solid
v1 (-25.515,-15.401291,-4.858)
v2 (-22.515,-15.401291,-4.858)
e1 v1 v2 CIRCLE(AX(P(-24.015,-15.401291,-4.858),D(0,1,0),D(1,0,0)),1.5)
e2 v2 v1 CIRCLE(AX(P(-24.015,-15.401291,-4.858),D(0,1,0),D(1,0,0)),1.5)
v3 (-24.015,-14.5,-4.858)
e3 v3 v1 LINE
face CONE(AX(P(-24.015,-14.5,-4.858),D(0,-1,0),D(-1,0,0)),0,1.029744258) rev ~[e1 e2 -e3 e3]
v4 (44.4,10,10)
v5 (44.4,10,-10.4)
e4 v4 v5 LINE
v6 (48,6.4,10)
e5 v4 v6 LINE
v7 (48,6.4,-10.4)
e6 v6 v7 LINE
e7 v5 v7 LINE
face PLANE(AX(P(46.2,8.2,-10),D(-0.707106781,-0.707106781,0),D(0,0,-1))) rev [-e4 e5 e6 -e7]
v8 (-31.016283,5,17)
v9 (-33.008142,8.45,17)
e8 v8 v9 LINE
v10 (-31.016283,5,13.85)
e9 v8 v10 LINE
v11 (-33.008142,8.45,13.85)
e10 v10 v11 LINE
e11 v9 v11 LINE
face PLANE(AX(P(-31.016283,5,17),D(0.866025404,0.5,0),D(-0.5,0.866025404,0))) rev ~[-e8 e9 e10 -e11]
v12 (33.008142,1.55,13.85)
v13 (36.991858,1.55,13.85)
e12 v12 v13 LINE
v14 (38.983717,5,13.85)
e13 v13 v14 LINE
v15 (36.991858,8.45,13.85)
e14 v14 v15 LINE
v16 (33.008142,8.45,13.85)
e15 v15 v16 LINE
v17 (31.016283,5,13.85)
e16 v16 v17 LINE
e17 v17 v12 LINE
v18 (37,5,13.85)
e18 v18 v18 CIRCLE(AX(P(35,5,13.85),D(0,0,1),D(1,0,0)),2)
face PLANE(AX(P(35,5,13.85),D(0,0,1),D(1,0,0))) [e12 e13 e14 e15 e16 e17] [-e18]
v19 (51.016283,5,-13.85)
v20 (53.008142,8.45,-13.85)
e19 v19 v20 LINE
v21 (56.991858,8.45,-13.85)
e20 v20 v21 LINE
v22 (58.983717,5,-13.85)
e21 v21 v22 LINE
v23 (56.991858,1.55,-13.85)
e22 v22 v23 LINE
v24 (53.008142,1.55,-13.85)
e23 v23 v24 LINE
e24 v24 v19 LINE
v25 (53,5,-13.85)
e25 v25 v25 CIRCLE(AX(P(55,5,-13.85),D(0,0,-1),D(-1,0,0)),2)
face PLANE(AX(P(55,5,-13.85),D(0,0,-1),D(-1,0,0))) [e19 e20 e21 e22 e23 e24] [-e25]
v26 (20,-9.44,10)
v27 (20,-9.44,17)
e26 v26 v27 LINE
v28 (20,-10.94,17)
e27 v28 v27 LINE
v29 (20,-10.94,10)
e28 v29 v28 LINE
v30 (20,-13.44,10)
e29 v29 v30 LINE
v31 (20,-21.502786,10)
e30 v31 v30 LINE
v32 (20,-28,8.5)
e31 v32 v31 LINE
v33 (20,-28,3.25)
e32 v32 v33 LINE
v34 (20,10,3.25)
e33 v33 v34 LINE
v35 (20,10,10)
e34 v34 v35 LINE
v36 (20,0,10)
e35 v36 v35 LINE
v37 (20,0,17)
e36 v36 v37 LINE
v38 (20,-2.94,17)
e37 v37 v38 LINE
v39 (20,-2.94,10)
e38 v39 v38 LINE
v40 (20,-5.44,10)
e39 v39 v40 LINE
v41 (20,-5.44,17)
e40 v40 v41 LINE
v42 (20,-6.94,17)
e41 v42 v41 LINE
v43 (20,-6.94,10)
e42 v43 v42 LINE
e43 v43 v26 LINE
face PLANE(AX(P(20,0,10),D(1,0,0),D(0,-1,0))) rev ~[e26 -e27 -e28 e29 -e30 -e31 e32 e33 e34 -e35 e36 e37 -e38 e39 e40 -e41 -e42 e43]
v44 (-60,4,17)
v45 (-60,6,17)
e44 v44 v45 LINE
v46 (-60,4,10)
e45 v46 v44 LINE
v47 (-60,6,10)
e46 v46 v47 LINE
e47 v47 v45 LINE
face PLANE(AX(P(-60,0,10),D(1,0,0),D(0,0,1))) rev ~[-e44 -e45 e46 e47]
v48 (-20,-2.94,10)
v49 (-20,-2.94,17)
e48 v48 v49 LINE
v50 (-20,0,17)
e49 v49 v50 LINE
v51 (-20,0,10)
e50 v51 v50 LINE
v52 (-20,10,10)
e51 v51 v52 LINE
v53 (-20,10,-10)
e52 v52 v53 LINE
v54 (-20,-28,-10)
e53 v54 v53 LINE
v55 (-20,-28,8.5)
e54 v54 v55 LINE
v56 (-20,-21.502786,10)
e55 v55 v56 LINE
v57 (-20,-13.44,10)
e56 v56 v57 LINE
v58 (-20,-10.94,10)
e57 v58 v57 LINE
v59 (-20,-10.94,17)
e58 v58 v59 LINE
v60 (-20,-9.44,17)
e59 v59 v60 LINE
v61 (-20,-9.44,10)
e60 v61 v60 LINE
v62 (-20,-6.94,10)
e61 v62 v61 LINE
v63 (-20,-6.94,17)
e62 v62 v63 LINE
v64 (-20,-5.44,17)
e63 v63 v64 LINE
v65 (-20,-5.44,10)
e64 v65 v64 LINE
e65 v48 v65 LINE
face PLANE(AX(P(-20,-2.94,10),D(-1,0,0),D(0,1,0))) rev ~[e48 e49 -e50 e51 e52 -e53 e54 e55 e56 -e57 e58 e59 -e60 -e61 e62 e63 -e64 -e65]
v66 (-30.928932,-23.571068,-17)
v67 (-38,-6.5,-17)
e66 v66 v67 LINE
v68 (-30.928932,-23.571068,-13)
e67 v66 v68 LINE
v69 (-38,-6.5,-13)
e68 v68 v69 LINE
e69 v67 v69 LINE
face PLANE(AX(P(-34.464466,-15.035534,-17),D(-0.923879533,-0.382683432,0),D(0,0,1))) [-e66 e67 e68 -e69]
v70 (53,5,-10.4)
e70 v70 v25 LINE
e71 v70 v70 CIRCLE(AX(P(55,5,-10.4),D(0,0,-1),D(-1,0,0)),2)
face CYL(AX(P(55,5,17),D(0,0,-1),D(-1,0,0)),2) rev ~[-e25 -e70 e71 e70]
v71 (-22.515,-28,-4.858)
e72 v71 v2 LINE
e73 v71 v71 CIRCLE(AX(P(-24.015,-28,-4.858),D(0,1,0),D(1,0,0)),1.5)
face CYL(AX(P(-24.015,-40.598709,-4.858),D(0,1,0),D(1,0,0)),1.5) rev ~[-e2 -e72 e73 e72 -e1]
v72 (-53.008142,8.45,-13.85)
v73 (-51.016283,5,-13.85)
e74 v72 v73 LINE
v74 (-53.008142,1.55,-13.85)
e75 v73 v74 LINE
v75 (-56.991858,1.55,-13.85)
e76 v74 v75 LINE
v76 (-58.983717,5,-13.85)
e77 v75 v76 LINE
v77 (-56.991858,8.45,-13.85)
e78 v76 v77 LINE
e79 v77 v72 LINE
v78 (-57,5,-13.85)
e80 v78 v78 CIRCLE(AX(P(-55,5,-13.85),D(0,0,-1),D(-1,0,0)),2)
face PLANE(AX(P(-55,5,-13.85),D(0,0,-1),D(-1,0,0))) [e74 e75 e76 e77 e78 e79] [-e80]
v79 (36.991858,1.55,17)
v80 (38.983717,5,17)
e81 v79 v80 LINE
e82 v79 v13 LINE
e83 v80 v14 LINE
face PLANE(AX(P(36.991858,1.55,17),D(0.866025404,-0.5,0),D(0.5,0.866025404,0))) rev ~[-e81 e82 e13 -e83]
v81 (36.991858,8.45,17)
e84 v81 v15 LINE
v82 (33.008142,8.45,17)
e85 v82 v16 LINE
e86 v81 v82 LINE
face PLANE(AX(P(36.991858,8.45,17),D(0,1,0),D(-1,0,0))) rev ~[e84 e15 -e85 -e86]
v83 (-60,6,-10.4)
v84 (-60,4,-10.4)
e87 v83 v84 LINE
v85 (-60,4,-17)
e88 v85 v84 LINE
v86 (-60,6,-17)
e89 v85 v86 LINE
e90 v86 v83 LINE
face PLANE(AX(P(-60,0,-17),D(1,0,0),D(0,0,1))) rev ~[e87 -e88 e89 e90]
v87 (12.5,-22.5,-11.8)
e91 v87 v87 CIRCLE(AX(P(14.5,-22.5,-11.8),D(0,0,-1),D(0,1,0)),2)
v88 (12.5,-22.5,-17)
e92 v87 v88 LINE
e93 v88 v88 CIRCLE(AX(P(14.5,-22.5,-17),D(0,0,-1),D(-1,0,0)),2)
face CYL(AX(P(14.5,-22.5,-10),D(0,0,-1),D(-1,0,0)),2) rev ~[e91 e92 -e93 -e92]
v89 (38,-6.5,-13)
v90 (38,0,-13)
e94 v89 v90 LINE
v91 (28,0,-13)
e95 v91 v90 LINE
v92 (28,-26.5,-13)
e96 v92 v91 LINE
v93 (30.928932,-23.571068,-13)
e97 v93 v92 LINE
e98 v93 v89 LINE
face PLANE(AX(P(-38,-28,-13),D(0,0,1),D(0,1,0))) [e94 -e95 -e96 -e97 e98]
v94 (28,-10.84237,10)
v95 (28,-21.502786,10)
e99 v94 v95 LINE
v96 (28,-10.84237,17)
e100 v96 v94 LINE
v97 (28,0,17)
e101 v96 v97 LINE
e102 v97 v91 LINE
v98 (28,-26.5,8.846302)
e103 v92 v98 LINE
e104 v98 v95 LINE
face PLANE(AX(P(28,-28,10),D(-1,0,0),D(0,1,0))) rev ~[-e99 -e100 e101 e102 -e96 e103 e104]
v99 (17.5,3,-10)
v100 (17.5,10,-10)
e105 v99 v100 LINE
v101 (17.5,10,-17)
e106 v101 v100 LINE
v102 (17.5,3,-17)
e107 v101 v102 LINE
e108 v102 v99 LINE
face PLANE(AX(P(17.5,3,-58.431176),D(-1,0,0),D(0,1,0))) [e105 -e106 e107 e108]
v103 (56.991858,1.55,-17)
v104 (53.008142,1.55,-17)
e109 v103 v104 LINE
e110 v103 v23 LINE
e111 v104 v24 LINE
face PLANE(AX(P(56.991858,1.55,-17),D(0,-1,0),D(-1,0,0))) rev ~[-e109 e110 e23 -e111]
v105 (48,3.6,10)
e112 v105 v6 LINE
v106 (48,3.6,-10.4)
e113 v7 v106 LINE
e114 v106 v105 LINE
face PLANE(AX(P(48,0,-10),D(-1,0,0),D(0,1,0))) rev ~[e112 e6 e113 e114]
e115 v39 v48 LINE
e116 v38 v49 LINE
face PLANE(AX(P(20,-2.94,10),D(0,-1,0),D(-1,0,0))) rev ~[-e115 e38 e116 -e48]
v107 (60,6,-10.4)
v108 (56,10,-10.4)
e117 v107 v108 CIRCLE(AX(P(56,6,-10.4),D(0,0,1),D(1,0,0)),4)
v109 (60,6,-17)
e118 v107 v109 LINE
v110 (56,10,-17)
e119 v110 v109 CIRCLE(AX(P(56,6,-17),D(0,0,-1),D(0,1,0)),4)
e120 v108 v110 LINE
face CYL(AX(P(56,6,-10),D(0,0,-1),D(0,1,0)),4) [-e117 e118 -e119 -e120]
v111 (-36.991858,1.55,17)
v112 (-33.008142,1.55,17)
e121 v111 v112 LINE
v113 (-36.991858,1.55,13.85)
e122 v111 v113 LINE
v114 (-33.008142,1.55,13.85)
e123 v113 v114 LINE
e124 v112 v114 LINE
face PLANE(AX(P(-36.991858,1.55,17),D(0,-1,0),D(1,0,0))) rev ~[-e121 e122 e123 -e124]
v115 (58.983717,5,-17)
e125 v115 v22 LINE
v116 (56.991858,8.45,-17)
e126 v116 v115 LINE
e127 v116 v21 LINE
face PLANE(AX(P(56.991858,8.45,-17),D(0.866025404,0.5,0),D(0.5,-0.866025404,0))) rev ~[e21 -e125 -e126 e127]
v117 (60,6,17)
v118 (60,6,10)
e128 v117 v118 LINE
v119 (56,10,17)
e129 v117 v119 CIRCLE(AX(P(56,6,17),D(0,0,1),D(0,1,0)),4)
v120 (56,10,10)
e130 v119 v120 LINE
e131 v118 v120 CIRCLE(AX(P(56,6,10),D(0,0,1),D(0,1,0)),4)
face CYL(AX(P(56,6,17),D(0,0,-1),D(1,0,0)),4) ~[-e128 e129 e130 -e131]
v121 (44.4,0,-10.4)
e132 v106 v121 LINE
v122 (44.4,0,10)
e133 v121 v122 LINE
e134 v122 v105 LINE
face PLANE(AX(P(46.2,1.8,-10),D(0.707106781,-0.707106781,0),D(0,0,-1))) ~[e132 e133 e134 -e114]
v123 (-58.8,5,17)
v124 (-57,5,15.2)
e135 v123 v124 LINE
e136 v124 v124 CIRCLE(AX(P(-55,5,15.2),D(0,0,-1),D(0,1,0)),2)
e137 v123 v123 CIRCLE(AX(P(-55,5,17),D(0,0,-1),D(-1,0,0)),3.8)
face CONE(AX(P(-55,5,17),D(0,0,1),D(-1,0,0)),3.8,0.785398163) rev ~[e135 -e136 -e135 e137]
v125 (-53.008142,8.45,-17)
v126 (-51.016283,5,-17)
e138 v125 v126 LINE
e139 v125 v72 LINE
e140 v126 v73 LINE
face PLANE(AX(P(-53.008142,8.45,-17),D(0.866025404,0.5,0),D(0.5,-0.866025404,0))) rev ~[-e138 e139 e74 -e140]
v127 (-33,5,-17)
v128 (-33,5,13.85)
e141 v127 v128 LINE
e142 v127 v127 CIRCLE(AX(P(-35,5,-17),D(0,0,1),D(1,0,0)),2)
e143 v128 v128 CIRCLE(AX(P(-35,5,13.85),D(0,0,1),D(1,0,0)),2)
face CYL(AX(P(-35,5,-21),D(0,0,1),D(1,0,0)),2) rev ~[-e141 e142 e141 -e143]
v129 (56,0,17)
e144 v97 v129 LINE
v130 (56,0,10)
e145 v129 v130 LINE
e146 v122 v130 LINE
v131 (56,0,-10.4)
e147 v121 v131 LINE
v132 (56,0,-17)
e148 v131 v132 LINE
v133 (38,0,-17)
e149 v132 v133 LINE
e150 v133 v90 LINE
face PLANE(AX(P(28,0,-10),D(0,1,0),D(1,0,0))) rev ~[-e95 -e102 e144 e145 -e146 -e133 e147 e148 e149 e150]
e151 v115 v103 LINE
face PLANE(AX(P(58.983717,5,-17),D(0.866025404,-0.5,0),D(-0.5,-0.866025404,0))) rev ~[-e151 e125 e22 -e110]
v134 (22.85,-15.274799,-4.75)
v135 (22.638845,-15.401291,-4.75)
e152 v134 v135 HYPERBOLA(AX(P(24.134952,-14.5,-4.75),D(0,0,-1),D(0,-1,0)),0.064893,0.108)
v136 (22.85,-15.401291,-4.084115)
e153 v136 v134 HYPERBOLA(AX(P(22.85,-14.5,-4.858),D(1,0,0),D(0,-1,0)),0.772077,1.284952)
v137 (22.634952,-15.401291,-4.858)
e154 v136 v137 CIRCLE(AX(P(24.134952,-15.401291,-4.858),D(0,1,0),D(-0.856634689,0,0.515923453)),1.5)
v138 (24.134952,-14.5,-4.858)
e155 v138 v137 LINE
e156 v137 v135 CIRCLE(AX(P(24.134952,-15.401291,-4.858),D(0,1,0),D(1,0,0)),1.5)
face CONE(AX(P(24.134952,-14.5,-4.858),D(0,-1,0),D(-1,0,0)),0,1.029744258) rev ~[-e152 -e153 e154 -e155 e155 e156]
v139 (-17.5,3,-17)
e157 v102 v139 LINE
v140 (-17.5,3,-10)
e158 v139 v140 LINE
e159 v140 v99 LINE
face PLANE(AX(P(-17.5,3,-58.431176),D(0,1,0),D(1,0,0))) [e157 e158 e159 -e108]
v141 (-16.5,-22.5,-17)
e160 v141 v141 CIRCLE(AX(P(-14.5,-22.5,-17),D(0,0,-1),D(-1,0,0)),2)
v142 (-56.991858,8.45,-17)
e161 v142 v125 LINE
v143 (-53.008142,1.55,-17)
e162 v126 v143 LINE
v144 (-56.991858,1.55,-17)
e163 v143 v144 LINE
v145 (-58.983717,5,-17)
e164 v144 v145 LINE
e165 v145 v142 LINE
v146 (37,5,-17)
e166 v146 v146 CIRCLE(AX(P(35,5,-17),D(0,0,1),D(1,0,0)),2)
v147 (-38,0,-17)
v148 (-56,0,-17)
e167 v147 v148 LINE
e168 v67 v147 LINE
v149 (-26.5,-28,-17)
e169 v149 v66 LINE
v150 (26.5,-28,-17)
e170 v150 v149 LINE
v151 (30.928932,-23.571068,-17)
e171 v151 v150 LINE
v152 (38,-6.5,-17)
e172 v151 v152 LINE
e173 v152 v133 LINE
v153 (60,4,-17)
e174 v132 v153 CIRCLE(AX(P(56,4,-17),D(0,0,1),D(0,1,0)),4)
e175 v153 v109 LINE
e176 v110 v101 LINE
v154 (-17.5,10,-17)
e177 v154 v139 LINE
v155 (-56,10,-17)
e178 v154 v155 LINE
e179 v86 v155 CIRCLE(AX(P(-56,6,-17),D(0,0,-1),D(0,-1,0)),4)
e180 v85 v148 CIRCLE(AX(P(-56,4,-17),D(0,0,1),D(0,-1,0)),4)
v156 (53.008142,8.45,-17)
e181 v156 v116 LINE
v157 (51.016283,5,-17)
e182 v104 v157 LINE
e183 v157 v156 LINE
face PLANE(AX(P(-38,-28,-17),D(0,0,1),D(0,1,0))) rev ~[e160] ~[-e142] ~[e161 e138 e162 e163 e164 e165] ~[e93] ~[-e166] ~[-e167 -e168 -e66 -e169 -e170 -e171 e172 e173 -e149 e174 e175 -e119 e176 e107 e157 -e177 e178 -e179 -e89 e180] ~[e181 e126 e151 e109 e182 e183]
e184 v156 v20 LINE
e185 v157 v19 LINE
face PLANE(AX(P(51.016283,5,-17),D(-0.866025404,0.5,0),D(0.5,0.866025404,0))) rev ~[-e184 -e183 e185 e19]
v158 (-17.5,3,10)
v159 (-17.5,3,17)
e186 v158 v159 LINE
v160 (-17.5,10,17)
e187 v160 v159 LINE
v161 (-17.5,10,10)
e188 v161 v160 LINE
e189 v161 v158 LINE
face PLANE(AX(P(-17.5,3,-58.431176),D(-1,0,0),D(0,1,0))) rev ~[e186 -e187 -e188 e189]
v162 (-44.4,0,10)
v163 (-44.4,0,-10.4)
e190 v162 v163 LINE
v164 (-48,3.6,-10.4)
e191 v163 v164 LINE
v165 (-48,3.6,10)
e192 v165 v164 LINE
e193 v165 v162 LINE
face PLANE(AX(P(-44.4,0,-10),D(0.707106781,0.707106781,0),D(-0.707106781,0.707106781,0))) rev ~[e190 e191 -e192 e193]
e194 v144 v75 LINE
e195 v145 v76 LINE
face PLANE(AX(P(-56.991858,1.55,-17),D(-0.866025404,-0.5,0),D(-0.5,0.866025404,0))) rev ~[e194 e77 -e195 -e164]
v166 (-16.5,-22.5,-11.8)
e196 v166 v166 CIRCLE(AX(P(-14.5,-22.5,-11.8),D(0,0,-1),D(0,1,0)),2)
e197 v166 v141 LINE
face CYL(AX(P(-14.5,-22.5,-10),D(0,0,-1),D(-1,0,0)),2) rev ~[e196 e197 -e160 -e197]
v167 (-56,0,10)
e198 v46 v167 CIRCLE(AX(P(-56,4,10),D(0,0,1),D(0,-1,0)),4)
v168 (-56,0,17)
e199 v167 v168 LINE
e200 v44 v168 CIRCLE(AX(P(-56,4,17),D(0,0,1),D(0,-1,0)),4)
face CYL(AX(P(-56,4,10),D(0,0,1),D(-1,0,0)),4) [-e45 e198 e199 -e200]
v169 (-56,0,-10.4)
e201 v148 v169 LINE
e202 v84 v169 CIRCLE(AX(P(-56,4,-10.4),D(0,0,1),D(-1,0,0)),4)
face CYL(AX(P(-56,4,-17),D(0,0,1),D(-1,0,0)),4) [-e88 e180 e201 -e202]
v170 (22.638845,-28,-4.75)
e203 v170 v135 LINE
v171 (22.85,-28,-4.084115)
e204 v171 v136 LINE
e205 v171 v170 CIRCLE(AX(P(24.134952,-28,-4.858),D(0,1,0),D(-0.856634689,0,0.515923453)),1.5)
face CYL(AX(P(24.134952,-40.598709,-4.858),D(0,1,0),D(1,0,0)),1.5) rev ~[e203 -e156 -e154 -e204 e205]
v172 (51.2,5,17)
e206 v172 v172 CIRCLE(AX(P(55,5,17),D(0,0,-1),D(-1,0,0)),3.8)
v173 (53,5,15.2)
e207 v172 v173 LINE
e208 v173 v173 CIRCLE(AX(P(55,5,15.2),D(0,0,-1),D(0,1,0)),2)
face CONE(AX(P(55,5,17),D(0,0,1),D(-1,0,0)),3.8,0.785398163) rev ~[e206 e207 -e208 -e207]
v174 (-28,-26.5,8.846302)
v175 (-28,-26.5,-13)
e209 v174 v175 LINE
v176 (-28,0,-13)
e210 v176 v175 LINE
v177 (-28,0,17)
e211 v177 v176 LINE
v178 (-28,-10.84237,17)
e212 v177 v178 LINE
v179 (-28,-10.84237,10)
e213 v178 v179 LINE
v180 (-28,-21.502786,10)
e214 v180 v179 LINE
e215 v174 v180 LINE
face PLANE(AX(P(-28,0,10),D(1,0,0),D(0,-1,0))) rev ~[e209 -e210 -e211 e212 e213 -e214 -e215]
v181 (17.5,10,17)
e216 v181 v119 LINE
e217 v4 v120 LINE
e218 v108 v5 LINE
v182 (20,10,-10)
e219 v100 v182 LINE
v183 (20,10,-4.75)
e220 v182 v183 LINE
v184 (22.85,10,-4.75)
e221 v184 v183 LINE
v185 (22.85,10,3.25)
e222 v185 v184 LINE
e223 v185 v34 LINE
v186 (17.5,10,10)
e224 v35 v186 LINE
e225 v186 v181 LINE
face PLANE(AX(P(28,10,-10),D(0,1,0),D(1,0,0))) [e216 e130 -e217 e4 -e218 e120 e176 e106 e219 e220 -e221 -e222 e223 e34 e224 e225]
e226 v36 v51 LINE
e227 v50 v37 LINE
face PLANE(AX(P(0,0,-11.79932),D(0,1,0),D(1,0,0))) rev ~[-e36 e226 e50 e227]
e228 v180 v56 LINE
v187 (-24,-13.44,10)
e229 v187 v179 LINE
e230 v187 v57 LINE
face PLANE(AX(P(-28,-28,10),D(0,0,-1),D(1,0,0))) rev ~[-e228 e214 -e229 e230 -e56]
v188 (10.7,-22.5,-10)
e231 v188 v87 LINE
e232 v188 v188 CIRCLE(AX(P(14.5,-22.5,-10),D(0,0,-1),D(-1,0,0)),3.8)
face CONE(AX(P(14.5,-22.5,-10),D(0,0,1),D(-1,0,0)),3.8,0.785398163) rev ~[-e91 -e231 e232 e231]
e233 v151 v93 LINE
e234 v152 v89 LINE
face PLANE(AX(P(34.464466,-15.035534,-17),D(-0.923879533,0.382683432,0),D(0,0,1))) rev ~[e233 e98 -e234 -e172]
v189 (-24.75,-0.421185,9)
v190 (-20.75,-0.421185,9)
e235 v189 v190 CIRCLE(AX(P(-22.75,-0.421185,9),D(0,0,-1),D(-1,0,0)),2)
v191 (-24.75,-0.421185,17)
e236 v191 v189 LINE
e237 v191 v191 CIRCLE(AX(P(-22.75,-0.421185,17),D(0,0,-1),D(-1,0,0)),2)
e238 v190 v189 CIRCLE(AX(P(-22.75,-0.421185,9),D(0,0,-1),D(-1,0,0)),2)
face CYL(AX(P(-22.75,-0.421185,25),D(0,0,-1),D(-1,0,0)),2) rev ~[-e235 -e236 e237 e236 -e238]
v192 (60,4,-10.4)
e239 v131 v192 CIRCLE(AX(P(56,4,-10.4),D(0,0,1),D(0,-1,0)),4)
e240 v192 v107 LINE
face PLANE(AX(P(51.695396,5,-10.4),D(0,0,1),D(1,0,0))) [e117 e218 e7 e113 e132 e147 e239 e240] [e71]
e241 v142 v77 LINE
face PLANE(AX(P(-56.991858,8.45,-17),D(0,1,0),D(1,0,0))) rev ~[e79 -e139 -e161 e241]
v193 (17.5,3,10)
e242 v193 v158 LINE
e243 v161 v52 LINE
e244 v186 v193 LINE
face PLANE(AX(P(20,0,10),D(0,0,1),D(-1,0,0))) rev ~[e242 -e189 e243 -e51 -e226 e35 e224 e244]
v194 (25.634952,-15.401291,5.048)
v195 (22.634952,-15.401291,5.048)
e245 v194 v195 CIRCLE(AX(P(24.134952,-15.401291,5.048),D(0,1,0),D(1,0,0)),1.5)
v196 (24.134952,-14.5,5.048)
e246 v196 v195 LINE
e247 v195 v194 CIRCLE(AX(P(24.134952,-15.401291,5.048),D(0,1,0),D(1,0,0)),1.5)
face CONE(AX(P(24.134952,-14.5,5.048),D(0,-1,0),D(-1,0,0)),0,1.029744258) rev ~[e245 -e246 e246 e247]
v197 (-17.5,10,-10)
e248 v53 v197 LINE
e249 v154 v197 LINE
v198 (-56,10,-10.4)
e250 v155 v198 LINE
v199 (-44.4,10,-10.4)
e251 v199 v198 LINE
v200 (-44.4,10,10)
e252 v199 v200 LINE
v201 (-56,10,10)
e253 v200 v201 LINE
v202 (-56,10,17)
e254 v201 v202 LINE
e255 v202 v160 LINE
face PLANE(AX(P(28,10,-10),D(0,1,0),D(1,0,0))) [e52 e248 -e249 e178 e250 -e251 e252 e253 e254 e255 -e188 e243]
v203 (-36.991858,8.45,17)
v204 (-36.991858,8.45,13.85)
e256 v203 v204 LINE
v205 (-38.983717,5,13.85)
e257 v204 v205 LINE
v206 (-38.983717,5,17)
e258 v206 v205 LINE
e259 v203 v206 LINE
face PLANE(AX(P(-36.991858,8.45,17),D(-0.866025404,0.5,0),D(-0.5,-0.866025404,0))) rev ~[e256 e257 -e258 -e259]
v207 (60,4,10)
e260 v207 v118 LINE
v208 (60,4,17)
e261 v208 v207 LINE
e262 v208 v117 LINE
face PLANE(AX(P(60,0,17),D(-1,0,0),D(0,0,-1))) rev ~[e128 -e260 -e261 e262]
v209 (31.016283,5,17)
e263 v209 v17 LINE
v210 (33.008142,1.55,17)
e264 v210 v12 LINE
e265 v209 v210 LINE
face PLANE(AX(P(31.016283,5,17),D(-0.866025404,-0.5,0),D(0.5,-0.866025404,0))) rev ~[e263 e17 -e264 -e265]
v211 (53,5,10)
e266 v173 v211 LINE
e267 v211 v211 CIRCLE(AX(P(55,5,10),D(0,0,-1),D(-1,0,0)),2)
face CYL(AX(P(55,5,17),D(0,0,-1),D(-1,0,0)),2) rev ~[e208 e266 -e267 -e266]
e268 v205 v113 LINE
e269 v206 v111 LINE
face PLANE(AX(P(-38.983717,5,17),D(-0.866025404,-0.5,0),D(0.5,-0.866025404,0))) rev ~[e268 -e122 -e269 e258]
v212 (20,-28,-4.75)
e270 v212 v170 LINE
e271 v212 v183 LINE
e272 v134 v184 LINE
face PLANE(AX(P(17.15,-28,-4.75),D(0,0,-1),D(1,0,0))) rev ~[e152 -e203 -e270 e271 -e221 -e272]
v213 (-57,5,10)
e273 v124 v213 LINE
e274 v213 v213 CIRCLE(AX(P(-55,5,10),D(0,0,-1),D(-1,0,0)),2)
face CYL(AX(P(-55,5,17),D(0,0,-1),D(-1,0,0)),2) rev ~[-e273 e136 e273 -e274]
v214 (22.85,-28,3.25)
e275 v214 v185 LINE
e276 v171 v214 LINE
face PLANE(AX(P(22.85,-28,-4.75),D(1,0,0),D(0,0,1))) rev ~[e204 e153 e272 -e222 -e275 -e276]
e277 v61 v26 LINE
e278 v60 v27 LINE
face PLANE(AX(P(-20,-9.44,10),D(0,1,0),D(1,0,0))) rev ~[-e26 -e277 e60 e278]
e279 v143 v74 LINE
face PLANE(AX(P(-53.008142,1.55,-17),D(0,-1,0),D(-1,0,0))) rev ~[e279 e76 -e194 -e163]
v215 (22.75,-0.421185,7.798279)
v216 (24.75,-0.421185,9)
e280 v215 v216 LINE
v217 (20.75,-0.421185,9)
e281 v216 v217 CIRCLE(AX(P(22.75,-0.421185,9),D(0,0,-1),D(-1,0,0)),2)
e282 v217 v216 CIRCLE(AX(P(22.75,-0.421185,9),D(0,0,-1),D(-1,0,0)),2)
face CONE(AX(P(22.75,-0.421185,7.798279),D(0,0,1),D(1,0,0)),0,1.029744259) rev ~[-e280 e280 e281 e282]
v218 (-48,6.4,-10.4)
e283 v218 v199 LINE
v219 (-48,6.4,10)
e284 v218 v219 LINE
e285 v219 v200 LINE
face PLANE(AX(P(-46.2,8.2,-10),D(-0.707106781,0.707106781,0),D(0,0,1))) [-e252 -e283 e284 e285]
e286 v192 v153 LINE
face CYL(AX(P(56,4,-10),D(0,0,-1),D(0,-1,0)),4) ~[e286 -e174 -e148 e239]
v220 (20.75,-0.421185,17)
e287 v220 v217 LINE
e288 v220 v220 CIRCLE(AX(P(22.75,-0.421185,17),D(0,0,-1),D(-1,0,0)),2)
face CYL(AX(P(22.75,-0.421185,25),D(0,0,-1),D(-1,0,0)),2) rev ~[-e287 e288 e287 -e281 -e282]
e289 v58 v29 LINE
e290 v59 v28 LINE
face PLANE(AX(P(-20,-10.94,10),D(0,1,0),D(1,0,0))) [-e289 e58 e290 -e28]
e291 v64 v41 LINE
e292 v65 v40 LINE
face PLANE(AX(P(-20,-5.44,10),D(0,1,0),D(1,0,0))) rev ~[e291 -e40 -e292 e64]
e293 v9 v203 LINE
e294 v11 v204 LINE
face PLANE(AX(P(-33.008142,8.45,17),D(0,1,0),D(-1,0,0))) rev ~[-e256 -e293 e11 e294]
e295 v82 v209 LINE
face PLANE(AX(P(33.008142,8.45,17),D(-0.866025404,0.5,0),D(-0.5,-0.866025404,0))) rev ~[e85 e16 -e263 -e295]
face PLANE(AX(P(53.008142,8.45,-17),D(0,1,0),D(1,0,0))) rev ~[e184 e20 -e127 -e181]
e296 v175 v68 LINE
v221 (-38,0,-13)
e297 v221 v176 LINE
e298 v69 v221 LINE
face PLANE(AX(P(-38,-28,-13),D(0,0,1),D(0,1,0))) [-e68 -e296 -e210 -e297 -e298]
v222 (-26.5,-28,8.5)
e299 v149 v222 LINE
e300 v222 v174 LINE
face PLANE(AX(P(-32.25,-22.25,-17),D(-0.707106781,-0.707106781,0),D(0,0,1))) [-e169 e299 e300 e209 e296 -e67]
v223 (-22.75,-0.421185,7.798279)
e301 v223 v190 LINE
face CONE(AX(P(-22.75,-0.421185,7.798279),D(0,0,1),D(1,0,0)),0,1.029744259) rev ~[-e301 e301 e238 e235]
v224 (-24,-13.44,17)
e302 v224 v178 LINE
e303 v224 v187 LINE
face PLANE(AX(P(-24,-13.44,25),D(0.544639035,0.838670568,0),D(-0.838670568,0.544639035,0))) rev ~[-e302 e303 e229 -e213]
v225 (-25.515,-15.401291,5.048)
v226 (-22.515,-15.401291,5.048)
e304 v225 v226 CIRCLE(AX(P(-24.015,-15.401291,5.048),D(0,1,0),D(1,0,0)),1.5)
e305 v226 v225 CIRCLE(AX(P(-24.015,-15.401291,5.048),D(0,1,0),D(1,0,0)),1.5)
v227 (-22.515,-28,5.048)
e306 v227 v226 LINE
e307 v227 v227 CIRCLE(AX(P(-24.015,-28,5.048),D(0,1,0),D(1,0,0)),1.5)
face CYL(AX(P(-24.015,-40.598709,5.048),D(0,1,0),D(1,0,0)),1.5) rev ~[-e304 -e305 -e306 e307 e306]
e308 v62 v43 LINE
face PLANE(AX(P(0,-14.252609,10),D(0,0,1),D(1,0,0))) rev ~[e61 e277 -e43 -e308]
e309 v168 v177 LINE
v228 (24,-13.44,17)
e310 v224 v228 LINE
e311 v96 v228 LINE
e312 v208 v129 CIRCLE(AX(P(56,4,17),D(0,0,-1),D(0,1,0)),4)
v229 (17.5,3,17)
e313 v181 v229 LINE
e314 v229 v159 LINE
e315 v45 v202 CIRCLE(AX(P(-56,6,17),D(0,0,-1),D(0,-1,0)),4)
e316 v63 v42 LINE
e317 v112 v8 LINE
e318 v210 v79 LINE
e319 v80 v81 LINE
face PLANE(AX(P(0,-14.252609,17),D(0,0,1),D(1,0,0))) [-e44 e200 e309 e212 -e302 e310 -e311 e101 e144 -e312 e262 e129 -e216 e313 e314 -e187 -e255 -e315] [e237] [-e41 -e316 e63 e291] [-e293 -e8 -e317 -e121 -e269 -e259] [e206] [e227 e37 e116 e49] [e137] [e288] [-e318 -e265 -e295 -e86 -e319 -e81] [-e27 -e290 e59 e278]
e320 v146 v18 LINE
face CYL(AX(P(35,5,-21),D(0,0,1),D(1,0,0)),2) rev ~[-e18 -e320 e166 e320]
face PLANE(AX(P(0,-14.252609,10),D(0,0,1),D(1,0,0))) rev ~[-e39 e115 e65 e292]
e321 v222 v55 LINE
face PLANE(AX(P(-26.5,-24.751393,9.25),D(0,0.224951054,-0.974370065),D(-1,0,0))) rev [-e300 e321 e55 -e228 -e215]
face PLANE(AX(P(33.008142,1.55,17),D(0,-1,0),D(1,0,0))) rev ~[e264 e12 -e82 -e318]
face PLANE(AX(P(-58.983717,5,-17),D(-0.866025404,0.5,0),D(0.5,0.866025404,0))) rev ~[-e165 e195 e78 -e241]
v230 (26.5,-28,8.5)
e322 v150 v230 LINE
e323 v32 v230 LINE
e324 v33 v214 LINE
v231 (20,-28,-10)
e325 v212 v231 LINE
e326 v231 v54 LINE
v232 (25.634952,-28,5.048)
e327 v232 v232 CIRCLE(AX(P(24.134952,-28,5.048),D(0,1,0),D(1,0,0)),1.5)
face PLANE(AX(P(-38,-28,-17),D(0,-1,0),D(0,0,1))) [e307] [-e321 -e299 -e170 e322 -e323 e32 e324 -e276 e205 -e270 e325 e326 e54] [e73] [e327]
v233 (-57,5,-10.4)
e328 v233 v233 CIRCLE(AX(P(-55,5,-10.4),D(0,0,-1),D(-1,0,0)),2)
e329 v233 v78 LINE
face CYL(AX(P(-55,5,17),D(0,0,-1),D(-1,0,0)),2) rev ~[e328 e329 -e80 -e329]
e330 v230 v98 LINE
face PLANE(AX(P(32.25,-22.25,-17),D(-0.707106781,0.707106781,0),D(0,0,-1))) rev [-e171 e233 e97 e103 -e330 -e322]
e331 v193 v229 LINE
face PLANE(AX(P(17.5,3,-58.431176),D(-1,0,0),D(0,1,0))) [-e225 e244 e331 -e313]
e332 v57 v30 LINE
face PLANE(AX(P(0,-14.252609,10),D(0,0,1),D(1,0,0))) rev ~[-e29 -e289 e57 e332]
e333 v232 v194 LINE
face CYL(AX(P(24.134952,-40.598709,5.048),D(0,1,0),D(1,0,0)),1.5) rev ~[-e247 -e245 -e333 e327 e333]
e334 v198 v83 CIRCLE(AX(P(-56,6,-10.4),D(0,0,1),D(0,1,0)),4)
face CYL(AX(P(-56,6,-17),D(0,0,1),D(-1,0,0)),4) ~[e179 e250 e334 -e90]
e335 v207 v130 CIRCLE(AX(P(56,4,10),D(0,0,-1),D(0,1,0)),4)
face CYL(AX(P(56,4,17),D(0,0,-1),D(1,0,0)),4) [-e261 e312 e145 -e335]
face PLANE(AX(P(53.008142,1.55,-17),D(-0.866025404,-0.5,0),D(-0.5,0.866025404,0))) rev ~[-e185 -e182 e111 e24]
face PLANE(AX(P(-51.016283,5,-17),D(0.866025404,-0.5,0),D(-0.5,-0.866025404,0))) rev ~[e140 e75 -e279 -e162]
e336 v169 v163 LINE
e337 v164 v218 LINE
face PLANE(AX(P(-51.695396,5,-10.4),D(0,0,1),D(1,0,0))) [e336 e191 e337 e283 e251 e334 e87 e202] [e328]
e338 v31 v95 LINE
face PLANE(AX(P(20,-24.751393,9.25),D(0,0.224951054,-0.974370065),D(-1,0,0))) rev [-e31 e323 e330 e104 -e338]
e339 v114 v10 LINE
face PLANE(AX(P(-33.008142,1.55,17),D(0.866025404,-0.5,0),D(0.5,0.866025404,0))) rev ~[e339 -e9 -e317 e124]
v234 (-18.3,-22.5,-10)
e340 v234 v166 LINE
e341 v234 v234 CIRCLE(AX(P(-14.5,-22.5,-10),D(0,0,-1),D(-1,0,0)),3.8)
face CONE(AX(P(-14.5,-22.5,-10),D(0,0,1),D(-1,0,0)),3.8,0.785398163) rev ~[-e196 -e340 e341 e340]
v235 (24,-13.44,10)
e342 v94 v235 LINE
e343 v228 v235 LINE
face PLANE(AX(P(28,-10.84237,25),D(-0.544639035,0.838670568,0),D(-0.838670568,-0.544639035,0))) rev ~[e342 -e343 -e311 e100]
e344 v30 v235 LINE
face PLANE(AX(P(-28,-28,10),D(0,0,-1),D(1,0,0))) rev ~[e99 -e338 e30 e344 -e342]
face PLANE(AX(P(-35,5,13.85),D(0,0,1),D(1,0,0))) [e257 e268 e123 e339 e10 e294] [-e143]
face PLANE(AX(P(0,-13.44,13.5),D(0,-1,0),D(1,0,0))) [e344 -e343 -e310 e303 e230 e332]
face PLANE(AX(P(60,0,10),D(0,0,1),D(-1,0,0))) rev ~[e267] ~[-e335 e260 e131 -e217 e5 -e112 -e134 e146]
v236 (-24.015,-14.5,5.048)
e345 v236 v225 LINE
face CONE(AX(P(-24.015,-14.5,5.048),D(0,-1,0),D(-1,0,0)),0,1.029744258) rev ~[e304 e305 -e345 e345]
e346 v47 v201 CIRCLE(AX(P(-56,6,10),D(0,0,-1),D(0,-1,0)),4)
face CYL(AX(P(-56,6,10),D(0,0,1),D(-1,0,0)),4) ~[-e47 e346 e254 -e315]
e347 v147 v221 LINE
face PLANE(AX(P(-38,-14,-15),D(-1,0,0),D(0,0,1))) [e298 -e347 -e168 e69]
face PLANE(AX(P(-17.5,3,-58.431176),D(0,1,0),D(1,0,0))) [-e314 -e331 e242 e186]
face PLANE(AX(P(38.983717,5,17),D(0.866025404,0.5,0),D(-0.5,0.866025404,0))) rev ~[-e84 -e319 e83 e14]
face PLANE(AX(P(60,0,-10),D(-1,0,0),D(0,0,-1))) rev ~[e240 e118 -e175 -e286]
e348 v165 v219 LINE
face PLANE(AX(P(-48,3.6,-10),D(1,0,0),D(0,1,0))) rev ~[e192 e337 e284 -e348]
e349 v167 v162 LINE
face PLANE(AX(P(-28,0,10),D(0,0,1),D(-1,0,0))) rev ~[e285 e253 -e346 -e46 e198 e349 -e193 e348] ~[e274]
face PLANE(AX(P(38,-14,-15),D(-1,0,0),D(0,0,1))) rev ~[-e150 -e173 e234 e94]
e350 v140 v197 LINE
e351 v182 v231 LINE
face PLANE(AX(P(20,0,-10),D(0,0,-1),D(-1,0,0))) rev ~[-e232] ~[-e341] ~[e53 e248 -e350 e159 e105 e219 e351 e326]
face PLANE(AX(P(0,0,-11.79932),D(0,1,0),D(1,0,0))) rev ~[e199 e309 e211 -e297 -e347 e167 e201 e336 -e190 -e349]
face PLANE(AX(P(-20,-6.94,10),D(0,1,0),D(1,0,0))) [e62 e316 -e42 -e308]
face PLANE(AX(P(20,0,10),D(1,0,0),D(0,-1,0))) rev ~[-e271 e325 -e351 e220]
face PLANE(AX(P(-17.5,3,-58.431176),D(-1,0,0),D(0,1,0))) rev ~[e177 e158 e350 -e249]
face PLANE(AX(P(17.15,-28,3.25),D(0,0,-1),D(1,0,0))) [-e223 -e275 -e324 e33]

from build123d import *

# Parameters (mm, degrees)
BOSS_EXTRUDE1_DEPTH                             = 10
CSK_FOR_M4_FLAT_HEAD_MACHINE_SCREW1_D           = 4
CSK_FOR_M4_FLAT_HEAD_MACHINE_SCREW1_DEPTH       = 53.798278762
CSK_FOR_M4_FLAT_HEAD_MACHINE_SCREW1_CSINK_D     = 7.6
CSK_FOR_M4_FLAT_HEAD_MACHINE_SCREW1_CSINK_ANGLE = 90
CSK_FOR_M4_FLAT_HEAD_MACHINE_SCREW1_TIP         = 1.201721238
FILLET1_R                                       = 4
BOSS_EXTRUDE2_DEPTH                             = 28
SKETCH6_W                                       = 40
SKETCH6_H                                       = 1.5
SKETCH6_H_2                                     = 2
BOSS_EXTRUDE3_DEPTH                             = 7
SKETCH7_W                                       = 20
SKETCH7_H                                       = 10
BOSS_EXTRUDE4_DEPTH                             = 20
CHAMFER1_SIZE                                   = 3.6
BOSS_EXTRUDE5_START                             = 10
SKETCH9_W                                       = 4
SKETCH9_H                                       = 28
BOSS_EXTRUDE5_DEPTH                             = 76
CHAMFER2_SIZE                                   = 11.5
SKETCH10_W                                      = 56
SKETCH10_H                                      = 7
CUT_EXTRUDE1_DEPTH                              = 14.56
CHAMFER3_SIZE                                   = 1.5
CHAMFER3_SIZE2                                  = 6.497213811
CSK_FOR_M4_FLAT_HEAD_MACHINE_SCREW2_D           = 4
CSK_FOR_M4_FLAT_HEAD_MACHINE_SCREW2_DEPTH       = 38.798278762
CSK_FOR_M4_FLAT_HEAD_MACHINE_SCREW2_CSINK_D     = 7.9
CSK_FOR_M4_FLAT_HEAD_MACHINE_SCREW2_CSINK_ANGLE = 90
CSK_FOR_M4_FLAT_HEAD_MACHINE_SCREW2_TIP         = 1.201721238
CUT_EXTRUDE2_DEPTH                              = 3.15
F_1_0MM_DOWEL_HOLE1_D                           = 3
F_1_0MM_DOWEL_HOLE1_DEPTH                       = 12.598709071
F_1_0MM_DOWEL_HOLE1_TIP                         = 0.901290929
CHAMFER4_SIZE                                   = 10
CUT_EXTRUDE3_DEPTH                              = 3.15
SKETCH17_W                                      = 5.7
SKETCH17_H                                      = 8
CUT_EXTRUDE4_DEPTH                              = 42
CUT_EXTRUDE5_DEPTH                              = 75.431176264
CUT_EXTRUDE5_DEPTH_BACK                         = 75.431176264
SKETCH18_W                                      = 35
SKETCH18_H                                      = 14
CUT_EXTRUDE6_DEPTH                              = 15
CSK_FOR_M4_SFHCS2_D                             = 4
CSK_FOR_M4_SFHCS2_DEPTH                         = 11
CSK_FOR_M4_SFHCS2_CSINK_D                       = 7.6
CSK_FOR_M4_SFHCS2_CSINK_ANGLE                   = 90
CSK_FOR_M4_SFHCS2_TIP                           = 1.201721238
CSK_FOR_M4_SFHCS3_D                             = 4
CSK_FOR_M4_SFHCS3_DEPTH                         = 16
CSK_FOR_M4_SFHCS3_CSINK_D                       = 7.9
CSK_FOR_M4_SFHCS3_CSINK_ANGLE                   = 90
CSK_FOR_M4_SFHCS3_TIP                           = 1.201721238
CUT_EXTRUDE7_DEPTH                              = 0.4


with BuildPart() as part:
    # Sketch1 → Boss-Extrude1 (new body)
    with BuildSketch(Plane(origin=(0, 0, 0), x_dir=(1, 0, 0), z_dir=(0, 1, 0))):
        Polygon((60, 17), (-60, 17), (-60, 10), (-28, 10), (-28, 0), (-20, 0), (-20, 10), (20, 10), (20, 0), (28, 0), (28, 10), (60, 10), align=None)
        Polygon((-20, 0), (-28, 0), (-28, -10), (-60, -10), (-60, -17), (60, -17), (60, -10), (28, -10), (28, 0), (20, 0), (20, -10), (-20, -10), align=None)
    extrude(amount=BOSS_EXTRUDE1_DEPTH)

    # CSK for M4 Flat Head Machine Screw1
    with Locations(Plane.XY.offset(17)):
        with Locations((-55, 5), (55, 5)):
            CounterSinkHole(CSK_FOR_M4_FLAT_HEAD_MACHINE_SCREW1_D / 2, CSK_FOR_M4_FLAT_HEAD_MACHINE_SCREW1_CSINK_D / 2, depth=CSK_FOR_M4_FLAT_HEAD_MACHINE_SCREW1_DEPTH, counter_sink_angle=CSK_FOR_M4_FLAT_HEAD_MACHINE_SCREW1_CSINK_ANGLE)
            with Locations((0, 0, -(CSK_FOR_M4_FLAT_HEAD_MACHINE_SCREW1_DEPTH + CSK_FOR_M4_FLAT_HEAD_MACHINE_SCREW1_TIP / 2))):  # 118° drill point
                Cone(0, CSK_FOR_M4_FLAT_HEAD_MACHINE_SCREW1_D / 2, CSK_FOR_M4_FLAT_HEAD_MACHINE_SCREW1_TIP, mode=Mode.SUBTRACT)

    # Fillet1
    fillet1_edges = [part.edges().sort_by_distance(p)[0] for p in [
        (60, 0, 13.5),
        (-60, 0, 13.5),
        (-60, 0, -13.5),
        (60, 0, -13.5),
        (60, 10, -13.5),
        (-60, 10, -13.5),
        (-60, 10, 13.5),
        (60, 10, 13.5),
    ]]
    fillet(fillet1_edges, radius=FILLET1_R)

    # Sketch5 → Boss-Extrude2 (add)
    with BuildSketch(Plane.XZ):
        Polygon((-28, 10), (-28, -17), (28, -17), (28, 10), (20, 10), (20, -10), (-20, -10), (-20, 10), align=None)
    extrude(amount=BOSS_EXTRUDE2_DEPTH)

    # Sketch6 → Boss-Extrude3 (add)
    with BuildSketch(Plane.XY.offset(10)):
        Polygon((-28, 0), (-28, -28), (28, -28), (28, 0), (20, 0), (20, -2.94), (-20, -2.94), (-20, 0), align=None)
        with Locations((0, -6.19)):
            Rectangle(SKETCH6_W, SKETCH6_H, mode=Mode.SUBTRACT)
        with Locations((0, -10.19)):
            Rectangle(SKETCH6_W, SKETCH6_H, mode=Mode.SUBTRACT)
        with Locations((0, -14.19)):
            Rectangle(SKETCH6_W, SKETCH6_H, mode=Mode.SUBTRACT)
        with Locations((0, -18.19)):
            Rectangle(SKETCH6_W, SKETCH6_H, mode=Mode.SUBTRACT)
        with Locations((0, -22.44)):
            Rectangle(SKETCH6_W, SKETCH6_H_2, mode=Mode.SUBTRACT)
    extrude(amount=BOSS_EXTRUDE3_DEPTH)

    # Sketch7 → Boss-Extrude4 (add)
    with BuildSketch(Plane.XY.offset(-10)):
        with Locations((38, 5)):
            Rectangle(SKETCH7_W, SKETCH7_H)
        with Locations((-38, 5)):
            Rectangle(SKETCH7_W, SKETCH7_H)
    extrude(amount=BOSS_EXTRUDE4_DEPTH)

    # Chamfer1
    chamfer1_edges = [part.edges().sort_by_distance(p)[0] for p in [
        (48, 10, 0),
        (48, 0, 0),
        (-48, 0, 0),
        (-48, 10, 0),
    ]]
    chamfer(chamfer1_edges, length=CHAMFER1_SIZE)

    # Sketch9 → Boss-Extrude5 (add)
    with BuildSketch(Plane.ZY.offset(28).offset(BOSS_EXTRUDE5_START)):
        with Locations((-15, -14)):
            Rectangle(SKETCH9_W, SKETCH9_H)
    extrude(amount=-BOSS_EXTRUDE5_DEPTH)

    # Chamfer2
    chamfer2_edges = [part.edges().sort_by_distance(p)[0] for p in [
        (38, -28, -15),
        (-38, -28, -15),
    ]]
    chamfer(chamfer2_edges, length=CHAMFER2_SIZE)

    # Sketch10 → Cut-Extrude1 (cut)
    with BuildSketch(Plane.XZ.offset(28)):
        with Locations((0, 13.5)):
            Rectangle(SKETCH10_W, SKETCH10_H)
    extrude(amount=-CUT_EXTRUDE1_DEPTH, mode=Mode.SUBTRACT)

    # Chamfer3
    chamfer3_edges = [part.edges().sort_by_distance(p)[0] for p in [
        (23.25, -28, 10),
        (-23.25, -28, 10),
    ]]
    chamfer3_side = [part.faces().sort_by_distance(p)[0] for p in [
        (0, -28, -16.405189106),
    ]]
    chamfer(chamfer3_edges, length=CHAMFER3_SIZE, length2=CHAMFER3_SIZE2, reference=chamfer3_side[0])

    # CSK for M4 Flat Head Machine Screw2
    with Locations(Plane(origin=(-695.683007616, 1385.247292614, -21), x_dir=(-1, 0, 0), z_dir=(0, 0, -1))):
        with Locations((-730.683007616, -1380.247292614), (-660.683007616, -1380.247292614)):
            CounterSinkHole(CSK_FOR_M4_FLAT_HEAD_MACHINE_SCREW2_D / 2, CSK_FOR_M4_FLAT_HEAD_MACHINE_SCREW2_CSINK_D / 2, depth=CSK_FOR_M4_FLAT_HEAD_MACHINE_SCREW2_DEPTH, counter_sink_angle=CSK_FOR_M4_FLAT_HEAD_MACHINE_SCREW2_CSINK_ANGLE)
            with Locations((0, 0, -(CSK_FOR_M4_FLAT_HEAD_MACHINE_SCREW2_DEPTH + CSK_FOR_M4_FLAT_HEAD_MACHINE_SCREW2_TIP / 2))):  # 118° drill point
                Cone(0, CSK_FOR_M4_FLAT_HEAD_MACHINE_SCREW2_D / 2, CSK_FOR_M4_FLAT_HEAD_MACHINE_SCREW2_TIP, mode=Mode.SUBTRACT)

    # Sketch13 → Cut-Extrude2 (cut)
    with BuildSketch(Plane.XY.offset(17)):
        Polygon((-31.016283143, 5), (-33.008141571, 8.45), (-36.991858429, 8.45), (-38.983716857, 5), (-36.991858429, 1.55), (-33.008141571, 1.55), align=None)
        Polygon((38.983716857, 5), (36.991858429, 8.45), (33.008141571, 8.45), (31.016283143, 5), (33.008141571, 1.55), (36.991858429, 1.55), align=None)
    extrude(amount=-CUT_EXTRUDE2_DEPTH, mode=Mode.SUBTRACT)

    # Ø1.0mm Dowel Hole1
    with Locations(Plane(origin=(0, -28, 0), x_dir=(-1, 0, 0), z_dir=(0, -1, 0))):
        with Locations((-24.134952034, 4.858), (-24.134952034, -5.048), (24.015, -5.048), (24.015, 4.858)):
            Hole(F_1_0MM_DOWEL_HOLE1_D / 2, depth=F_1_0MM_DOWEL_HOLE1_DEPTH)
            with Locations((0, 0, -(F_1_0MM_DOWEL_HOLE1_DEPTH + F_1_0MM_DOWEL_HOLE1_TIP / 2))):  # 118° drill point
                Cone(0, F_1_0MM_DOWEL_HOLE1_D / 2, F_1_0MM_DOWEL_HOLE1_TIP, mode=Mode.SUBTRACT)

    # Chamfer4
    chamfer4_edges = [part.edges().sort_by_distance(p)[0] for p in [
        (38, -16.5, -15),
        (-38, -16.5, -15),
    ]]
    chamfer(chamfer4_edges, length=CHAMFER4_SIZE)

    # Sketch16 → Cut-Extrude3 (cut)
    with BuildSketch(Plane(origin=(0, 0, -17), x_dir=(-1, 0, 0), z_dir=(0, 0, -1))):
        Polygon((51.016283143, 5), (53.008141571, 1.55), (56.991858429, 1.55), (58.983716857, 5), (56.991858429, 8.45), (53.008141571, 8.45), align=None)
        Polygon((-51.016283143, 5), (-53.008141571, 8.45), (-56.991858429, 8.45), (-58.983716857, 5), (-56.991858429, 1.55), (-53.008141571, 1.55), align=None)
    extrude(amount=-CUT_EXTRUDE3_DEPTH, mode=Mode.SUBTRACT)

    # Sketch17 → Cut-Extrude4 (cut)
    with BuildSketch(Plane.XZ.offset(28)):
        with Locations((20, -0.75)):
            Rectangle(SKETCH17_W, SKETCH17_H)
    extrude(amount=-CUT_EXTRUDE4_DEPTH, mode=Mode.SUBTRACT)

    # Sketch18 → Cut-Extrude5 (cut, two sides: drawn at the far end of the back side and taken through both)
    with BuildSketch(Plane.XY.offset(17).offset(-CUT_EXTRUDE5_DEPTH_BACK)):
        with Locations((0, 10)):
            Rectangle(SKETCH18_W, SKETCH18_H)
    extrude(amount=CUT_EXTRUDE5_DEPTH + CUT_EXTRUDE5_DEPTH_BACK, mode=Mode.SUBTRACT)

    # Sketch19 → Cut-Extrude6 (cut)
    with BuildSketch(Plane(origin=(-695.683007616, 1385.247292614, 25), x_dir=(1, 0, 0), z_dir=(0, 0, 1))):
        Polygon((667.683007616, -1396.089662241), (667.683007616, -1398.687292614), (671.683007616, -1398.687292614), align=None)
        Polygon((719.683007616, -1398.687292614), (723.683007616, -1398.687292614), (723.683007616, -1396.089662241), align=None)
    extrude(amount=-CUT_EXTRUDE6_DEPTH, mode=Mode.SUBTRACT)

    # CSK for M4 SFHCS2
    with Locations(Plane(origin=(-695.683007616, 1385.247292614, -10), x_dir=(1, 0, 0), z_dir=(0, 0, 1))):
        with Locations((681.183007616, -1407.747292614), (710.183007616, -1407.747292614)):
            CounterSinkHole(CSK_FOR_M4_SFHCS2_D / 2, CSK_FOR_M4_SFHCS2_CSINK_D / 2, depth=CSK_FOR_M4_SFHCS2_DEPTH, counter_sink_angle=CSK_FOR_M4_SFHCS2_CSINK_ANGLE)
            with Locations((0, 0, -(CSK_FOR_M4_SFHCS2_DEPTH + CSK_FOR_M4_SFHCS2_TIP / 2))):  # 118° drill point
                Cone(0, CSK_FOR_M4_SFHCS2_D / 2, CSK_FOR_M4_SFHCS2_TIP, mode=Mode.SUBTRACT)

    # CSK for M4 SFHCS3
    with Locations(Plane(origin=(-695.683007616, 1385.247292614, 25), x_dir=(1, 0, 0), z_dir=(0, 0, 1))):
        with Locations((672.933007616, -1385.668477427), (718.433007616, -1385.668477427)):
            CounterSinkHole(CSK_FOR_M4_SFHCS3_D / 2, CSK_FOR_M4_SFHCS3_CSINK_D / 2, depth=CSK_FOR_M4_SFHCS3_DEPTH, counter_sink_angle=CSK_FOR_M4_SFHCS3_CSINK_ANGLE)
            with Locations((0, 0, -(CSK_FOR_M4_SFHCS3_DEPTH + CSK_FOR_M4_SFHCS3_TIP / 2))):  # 118° drill point
                Cone(0, CSK_FOR_M4_SFHCS3_D / 2, CSK_FOR_M4_SFHCS3_TIP, mode=Mode.SUBTRACT)

    # Sketch26 → Cut-Extrude7 (cut)
    with BuildSketch(Plane.XY.offset(-10)):
        with BuildLine():
            Line((-48, 3.6), (-48, 6.4))
            Line((-48, 6.4), (-44.4, 10))
            Line((-44.4, 10), (-56, 10))
            ThreePointArc((-56, 10), (-58.828427125, 8.828427125), (-60, 6))
            Line((-60, 6), (-60, 4))
            ThreePointArc((-60, 4), (-58.828427125, 1.171572875), (-56, 0))
            Line((-56, 0), (-44.4, 0))
            Line((-44.4, 0), (-48, 3.6))
        make_face()
        with BuildLine():
            Line((48, 6.4), (48, 3.6))
            Line((48, 3.6), (44.4, 0))
            Line((44.4, 0), (56, 0))
            ThreePointArc((56, 0), (58.828427125, 1.171572875), (60, 4))
            Line((60, 4), (60, 6))
            ThreePointArc((60, 6), (58.828427125, 8.828427125), (56, 10))
            Line((56, 10), (44.4, 10))
            Line((44.4, 10), (48, 6.4))
        make_face()
    extrude(amount=-CUT_EXTRUDE7_DEPTH, mode=Mode.SUBTRACT)


solid = part.part
